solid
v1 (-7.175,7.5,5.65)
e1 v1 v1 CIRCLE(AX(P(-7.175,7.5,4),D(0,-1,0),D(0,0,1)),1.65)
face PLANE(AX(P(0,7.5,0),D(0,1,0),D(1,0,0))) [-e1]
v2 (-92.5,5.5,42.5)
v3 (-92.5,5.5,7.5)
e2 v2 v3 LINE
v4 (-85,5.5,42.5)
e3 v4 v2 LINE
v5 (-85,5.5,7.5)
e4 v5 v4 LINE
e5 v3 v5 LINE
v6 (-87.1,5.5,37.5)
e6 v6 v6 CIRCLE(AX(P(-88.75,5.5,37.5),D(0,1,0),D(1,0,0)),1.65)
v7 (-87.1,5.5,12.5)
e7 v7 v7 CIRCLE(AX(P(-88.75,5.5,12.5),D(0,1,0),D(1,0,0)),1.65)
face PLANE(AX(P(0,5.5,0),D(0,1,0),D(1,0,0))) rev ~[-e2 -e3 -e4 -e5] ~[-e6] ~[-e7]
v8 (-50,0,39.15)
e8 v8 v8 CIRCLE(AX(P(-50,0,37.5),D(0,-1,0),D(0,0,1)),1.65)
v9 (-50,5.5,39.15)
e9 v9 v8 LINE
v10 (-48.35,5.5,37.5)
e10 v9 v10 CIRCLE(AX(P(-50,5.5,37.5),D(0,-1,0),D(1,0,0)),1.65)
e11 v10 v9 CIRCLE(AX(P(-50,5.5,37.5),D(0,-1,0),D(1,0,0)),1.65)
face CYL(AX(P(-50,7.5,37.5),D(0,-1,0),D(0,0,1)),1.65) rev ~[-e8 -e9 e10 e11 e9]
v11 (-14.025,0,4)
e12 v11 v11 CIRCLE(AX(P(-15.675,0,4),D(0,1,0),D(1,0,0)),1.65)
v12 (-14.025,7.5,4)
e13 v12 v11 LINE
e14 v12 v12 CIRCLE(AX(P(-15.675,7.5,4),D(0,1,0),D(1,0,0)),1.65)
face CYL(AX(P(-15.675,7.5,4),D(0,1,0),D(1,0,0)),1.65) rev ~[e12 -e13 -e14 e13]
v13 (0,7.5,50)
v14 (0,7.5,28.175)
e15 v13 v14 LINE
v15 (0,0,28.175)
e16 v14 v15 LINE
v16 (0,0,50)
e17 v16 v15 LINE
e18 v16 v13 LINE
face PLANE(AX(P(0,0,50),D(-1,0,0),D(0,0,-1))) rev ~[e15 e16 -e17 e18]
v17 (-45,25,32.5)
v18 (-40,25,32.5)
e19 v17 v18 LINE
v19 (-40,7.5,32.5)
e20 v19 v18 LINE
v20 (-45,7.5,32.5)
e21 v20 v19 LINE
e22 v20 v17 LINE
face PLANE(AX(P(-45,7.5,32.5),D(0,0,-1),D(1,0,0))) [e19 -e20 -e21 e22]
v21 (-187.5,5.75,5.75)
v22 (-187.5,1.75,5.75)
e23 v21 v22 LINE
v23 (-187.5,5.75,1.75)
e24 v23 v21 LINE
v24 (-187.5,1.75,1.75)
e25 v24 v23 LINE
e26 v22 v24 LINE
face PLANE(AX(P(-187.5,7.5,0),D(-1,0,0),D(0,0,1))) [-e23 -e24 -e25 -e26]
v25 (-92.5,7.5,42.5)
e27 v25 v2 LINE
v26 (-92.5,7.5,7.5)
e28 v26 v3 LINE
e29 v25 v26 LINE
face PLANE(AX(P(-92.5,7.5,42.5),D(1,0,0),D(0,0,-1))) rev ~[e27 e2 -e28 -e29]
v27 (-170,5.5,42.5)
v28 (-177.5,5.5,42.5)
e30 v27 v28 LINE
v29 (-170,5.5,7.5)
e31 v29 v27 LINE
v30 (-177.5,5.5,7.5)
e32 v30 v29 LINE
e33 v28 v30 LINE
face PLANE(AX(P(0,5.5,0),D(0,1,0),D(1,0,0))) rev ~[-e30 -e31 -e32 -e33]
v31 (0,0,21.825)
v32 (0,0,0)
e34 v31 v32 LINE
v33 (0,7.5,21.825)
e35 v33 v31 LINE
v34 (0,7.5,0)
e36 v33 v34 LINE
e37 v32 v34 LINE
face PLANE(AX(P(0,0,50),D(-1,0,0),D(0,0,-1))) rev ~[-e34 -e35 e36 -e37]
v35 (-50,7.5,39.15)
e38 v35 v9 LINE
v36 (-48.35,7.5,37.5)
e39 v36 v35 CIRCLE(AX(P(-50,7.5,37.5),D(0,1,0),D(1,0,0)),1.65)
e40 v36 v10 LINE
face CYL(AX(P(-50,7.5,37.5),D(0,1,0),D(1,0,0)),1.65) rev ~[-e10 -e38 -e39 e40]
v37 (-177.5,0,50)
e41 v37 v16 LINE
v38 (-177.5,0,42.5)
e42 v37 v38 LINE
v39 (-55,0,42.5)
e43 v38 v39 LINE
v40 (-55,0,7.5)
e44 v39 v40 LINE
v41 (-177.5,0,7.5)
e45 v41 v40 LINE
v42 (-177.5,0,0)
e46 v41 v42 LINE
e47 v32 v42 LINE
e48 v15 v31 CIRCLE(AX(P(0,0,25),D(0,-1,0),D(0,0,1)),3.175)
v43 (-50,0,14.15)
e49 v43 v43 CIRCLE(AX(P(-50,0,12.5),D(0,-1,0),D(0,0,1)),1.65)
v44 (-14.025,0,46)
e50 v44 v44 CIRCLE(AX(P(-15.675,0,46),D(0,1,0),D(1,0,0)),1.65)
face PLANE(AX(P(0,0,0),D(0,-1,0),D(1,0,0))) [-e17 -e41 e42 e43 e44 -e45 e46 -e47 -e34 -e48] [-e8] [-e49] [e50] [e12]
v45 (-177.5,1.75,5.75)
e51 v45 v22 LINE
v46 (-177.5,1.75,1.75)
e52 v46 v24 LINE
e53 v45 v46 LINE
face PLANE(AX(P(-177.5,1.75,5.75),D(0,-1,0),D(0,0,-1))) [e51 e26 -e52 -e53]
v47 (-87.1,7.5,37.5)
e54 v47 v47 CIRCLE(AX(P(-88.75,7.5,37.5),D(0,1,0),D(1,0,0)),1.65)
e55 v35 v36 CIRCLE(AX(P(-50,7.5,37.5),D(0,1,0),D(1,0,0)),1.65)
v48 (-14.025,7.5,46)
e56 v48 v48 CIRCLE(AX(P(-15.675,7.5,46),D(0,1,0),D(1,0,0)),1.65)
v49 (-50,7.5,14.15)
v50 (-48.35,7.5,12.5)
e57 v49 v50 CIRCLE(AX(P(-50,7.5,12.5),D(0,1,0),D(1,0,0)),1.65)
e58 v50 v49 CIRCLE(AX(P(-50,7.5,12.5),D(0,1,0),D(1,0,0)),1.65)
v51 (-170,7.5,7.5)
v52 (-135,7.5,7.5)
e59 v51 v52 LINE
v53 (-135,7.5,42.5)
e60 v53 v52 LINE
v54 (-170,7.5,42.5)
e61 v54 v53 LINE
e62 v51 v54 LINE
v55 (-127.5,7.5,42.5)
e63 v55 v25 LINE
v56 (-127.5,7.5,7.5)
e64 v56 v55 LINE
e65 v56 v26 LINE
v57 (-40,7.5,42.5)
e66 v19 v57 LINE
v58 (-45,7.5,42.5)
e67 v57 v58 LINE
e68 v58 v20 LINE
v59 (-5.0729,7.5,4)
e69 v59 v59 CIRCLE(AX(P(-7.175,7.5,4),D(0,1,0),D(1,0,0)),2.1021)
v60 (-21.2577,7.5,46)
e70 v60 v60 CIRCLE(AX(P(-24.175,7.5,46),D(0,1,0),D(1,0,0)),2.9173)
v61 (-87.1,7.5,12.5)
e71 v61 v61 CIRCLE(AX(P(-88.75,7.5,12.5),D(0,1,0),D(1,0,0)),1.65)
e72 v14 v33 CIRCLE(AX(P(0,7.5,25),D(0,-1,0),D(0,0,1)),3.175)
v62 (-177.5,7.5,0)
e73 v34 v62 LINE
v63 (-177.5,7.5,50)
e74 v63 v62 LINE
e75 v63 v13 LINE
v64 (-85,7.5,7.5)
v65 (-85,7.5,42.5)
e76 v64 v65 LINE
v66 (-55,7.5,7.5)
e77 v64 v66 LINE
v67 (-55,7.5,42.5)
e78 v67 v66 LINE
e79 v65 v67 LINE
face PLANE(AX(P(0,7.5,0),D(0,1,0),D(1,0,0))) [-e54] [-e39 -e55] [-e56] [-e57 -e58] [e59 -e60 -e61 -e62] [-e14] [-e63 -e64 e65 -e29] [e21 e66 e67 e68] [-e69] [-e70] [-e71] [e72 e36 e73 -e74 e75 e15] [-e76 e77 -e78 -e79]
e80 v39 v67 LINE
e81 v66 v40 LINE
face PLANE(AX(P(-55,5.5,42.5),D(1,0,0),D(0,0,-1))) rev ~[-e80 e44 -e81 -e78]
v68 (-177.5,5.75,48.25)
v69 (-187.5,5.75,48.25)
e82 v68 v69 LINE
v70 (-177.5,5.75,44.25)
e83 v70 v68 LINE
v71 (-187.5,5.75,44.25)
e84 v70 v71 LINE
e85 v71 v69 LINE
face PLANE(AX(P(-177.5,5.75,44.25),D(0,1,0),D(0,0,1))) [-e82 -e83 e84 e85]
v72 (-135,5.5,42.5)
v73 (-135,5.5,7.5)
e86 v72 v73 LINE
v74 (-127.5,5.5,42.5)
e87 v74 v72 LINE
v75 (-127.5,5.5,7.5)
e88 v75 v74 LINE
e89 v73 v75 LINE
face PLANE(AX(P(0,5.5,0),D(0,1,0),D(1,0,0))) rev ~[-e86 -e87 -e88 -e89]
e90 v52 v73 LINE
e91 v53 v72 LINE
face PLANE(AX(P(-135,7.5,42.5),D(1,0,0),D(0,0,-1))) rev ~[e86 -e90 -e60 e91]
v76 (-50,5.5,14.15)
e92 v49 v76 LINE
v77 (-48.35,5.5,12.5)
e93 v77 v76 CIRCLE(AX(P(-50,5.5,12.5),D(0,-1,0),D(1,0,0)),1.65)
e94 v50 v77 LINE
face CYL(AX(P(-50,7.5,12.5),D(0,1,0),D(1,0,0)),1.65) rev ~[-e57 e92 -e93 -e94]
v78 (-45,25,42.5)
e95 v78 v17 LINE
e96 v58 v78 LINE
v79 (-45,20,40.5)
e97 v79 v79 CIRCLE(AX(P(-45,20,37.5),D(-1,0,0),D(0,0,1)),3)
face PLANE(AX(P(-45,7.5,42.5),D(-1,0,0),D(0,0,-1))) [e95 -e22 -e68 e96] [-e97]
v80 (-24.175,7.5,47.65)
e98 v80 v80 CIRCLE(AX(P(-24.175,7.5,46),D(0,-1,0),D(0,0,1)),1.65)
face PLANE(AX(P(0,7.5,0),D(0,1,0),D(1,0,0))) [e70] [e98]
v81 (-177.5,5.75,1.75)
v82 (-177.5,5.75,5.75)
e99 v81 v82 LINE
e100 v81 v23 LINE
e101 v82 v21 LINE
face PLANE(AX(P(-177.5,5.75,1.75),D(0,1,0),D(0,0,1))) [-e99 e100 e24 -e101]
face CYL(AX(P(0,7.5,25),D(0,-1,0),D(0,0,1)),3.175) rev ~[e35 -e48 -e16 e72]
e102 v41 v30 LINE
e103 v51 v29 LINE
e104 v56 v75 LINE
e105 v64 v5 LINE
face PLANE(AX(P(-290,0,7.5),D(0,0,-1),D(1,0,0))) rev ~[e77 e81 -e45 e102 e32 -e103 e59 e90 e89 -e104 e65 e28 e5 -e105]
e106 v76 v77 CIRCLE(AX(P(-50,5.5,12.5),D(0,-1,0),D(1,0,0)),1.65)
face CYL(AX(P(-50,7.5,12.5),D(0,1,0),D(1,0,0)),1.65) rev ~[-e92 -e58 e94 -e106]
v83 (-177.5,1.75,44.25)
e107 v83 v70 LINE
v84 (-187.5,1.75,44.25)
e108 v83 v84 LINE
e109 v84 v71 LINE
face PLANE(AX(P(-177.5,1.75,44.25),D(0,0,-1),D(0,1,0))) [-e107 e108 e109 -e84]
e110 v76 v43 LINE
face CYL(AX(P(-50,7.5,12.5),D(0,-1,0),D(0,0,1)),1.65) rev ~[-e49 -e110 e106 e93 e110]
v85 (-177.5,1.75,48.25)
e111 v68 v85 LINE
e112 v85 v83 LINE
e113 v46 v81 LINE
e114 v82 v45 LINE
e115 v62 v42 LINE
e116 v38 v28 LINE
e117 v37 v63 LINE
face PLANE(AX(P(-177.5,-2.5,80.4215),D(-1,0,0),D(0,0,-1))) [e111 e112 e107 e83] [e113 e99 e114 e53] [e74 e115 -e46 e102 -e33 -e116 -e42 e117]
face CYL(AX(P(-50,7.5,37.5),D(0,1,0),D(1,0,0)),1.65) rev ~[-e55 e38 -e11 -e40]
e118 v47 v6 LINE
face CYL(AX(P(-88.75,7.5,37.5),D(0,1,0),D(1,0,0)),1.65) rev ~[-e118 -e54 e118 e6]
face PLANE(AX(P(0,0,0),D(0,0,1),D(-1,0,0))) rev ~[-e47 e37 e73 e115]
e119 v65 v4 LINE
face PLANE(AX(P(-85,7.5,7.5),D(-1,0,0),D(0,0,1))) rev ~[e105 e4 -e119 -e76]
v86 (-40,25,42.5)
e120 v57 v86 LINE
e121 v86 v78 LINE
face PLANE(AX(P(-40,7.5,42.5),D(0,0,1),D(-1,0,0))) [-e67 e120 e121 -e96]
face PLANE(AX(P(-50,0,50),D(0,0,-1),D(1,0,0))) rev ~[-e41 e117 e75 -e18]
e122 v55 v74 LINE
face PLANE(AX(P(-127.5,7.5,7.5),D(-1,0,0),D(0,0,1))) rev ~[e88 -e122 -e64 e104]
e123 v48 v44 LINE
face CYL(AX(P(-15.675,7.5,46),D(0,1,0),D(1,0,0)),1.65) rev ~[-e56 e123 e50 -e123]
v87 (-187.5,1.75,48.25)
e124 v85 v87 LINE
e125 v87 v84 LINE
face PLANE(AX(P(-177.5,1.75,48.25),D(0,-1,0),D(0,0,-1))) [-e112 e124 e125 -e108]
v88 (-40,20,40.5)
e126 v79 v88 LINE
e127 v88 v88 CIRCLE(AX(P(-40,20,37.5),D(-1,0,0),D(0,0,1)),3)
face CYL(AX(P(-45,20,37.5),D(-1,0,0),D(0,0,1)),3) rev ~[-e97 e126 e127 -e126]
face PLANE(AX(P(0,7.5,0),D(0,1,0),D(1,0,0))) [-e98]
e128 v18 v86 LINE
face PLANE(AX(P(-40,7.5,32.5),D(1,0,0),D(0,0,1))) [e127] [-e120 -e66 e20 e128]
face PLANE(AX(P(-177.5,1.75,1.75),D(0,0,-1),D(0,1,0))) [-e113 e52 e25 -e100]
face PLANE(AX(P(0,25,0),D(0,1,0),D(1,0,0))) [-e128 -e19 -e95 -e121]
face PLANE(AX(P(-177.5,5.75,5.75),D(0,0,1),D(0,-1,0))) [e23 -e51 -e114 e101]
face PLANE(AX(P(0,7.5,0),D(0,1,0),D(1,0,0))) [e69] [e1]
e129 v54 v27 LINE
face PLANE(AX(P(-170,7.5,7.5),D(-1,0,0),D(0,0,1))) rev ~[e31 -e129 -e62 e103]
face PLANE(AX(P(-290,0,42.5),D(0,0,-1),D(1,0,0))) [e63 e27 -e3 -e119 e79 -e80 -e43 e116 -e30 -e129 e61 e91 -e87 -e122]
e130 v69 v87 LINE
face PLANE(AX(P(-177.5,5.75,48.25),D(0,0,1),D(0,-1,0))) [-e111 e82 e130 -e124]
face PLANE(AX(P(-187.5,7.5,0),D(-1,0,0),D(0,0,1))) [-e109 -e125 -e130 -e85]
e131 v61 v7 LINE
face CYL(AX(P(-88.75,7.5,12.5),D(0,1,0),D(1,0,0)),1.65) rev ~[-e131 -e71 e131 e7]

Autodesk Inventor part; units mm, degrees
ref_plane "YZ Plane" through (0, 0, 0) normal (1, 0, 0) x (0, 1, 0)
ref_plane "XZ Plane" through (0, 0, 0) normal (0, 1, 0) x (-1, 0, 0)
ref_plane "XY Plane" through (0, 0, 0) normal (0, 0, 1) x (1, 0, 0)
sketch "Sketch1" plane through (0, 0, 0) normal (0, 1, 0) x (-1, 0, 0)
  line L0 (0, 0) -> (50, 0)
  line L1 (50, 0) -> (50, 50)
  line L2 (50, 50) -> (0, 50)
  line L3 (0, 50) -> (0, 0)
  line L4 (50, 50) -> (290, 50)
  line L5 (290, 50) -> (290, 42.5)
  line L6 (290, 42.5) -> (50, 42.5)
  line L7 (50, 42.5) -> (50, 50)
  line L8 (50, 0) -> (290, 0)
  line L9 (290, 0) -> (290, 7.5)
  line L10 (290, 7.5) -> (50, 7.5)
  line L11 (50, 7.5) -> (50, 0)
  dimension "d0" = 50
  dimension "d1" = 50
  dimension "d2" = 240
  dimension "d3" = 7.5
  dimension "d4" = 7.5
extrude "Extrusion1" add sketch "Sketch1" along normal blind 7.5
sketch "Sketch2" plane through (0, 7.5, 0) normal (0, 1, 0) x (1, 0, 0)
  line L0 (0, -50) -> (0, 0) projected
  point P0 (0, -25)
hole "Hole1" at (0, 7.5, 25) direction (0, -1, 0) diameter 6.35 end through all
sketch "Sketch3" plane through (0, 7.5, 0) normal (0, 1, 0) x (1, 0, 0)
  line L0 (-3.175, -50) -> (-3.175, 0) construction
  line L1 (-3.175, -50) -> (-28.175, -50) construction
  line L2 (-28.175, -50) -> (-28.175, 0) construction
  line L3 (-28.175, 0) -> (-3.175, 0) construction
  point P0 (0, 0)
  point P1 (-7.175, -4)
  point P2 (-24.175, -46)
  dimension "d14" = 25
hole "Hole2" at (-7.175, 7.5, 4) at (-24.175, 7.5, 46) direction (0, -1, 0) diameter 3.3 end through all
sketch "Sketch4" plane through (0, 7.5, 0) normal (0, 1, 0) x (1, 0, 0)
  arc A0 (0, -21.825) -> (0, -28.175) centre (0, -25) ccw construction
  line L0 (-3.175, -25) -> (-28.175, -25) construction
  line L1 (-3.175, -25) -> (21.825, -25) construction
  line L2 (-290, -50) -> (0, -50) construction
  line L3 (-28.175, -50) -> (-28.175, 0) construction
  line L4 (-50, -7.5) -> (-50, -42.5) construction
  line L5 (-50, -42.5) -> (-45, -42.5) construction
  line L6 (-45, -42.5) -> (-45, -32.5) construction
  line L7 (-45, -32.5) -> (-50, -32.5) construction
  line L8 (-50, -32.5) -> (-50, -42.5) construction
  line L9 (-45, -32.5) -> (-40, -32.5)
  line L10 (-40, -32.5) -> (-40, -42.5)
  line L11 (-40, -42.5) -> (-45, -42.5)
  line L12 (-45, -42.5) -> (-45, -32.5)
  point P0 (0, 0)
  dimension "d22" = 25
  dimension "d23" = 180
  dimension "d24" = 5
  dimension "d25" = 10
  dimension "d26" = 5
extrude "Extrusion2" add sketch "Sketch4" along normal blind 17.5
sketch "Sketch5" plane through (0, 7.5, 0) normal (0, 1, 0) x (1, 0, 0)
  line L0 (-85, -7.5) -> (-85, -42.5)
  line L1 (-127.5, -7.5) -> (-127.5, -42.5)
  line L2 (-92.5, -42.5) -> (-92.5, -7.5)
  line L3 (-135, -7.5) -> (-170, -7.5) construction
  line L4 (-170, -7.5) -> (-170, -42.5) construction
  line L5 (-170, -42.5) -> (-135, -42.5) construction
  line L6 (-135, -42.5) -> (-135, -7.5) construction
  line L7 (-177.5, -7.5) -> (-212.5, -7.5) construction
  line L8 (-212.5, -7.5) -> (-212.5, -42.5) construction
  line L9 (-212.5, -42.5) -> (-177.5, -42.5) construction
  line L10 (-177.5, -42.5) -> (-177.5, -7.5) construction
  line L11 (-220, -7.5) -> (-255, -7.5) construction
  line L12 (-255, -7.5) -> (-255, -42.5) construction
  line L13 (-255, -42.5) -> (-220, -42.5) construction
  line L14 (-220, -42.5) -> (-220, -7.5) construction
  line L15 (-85, -7.5) -> (-92.5, -7.5) construction
  line L16 (-92.5, -7.5) -> (-92.5, -42.5) construction
  line L17 (-92.5, -42.5) -> (-85, -42.5) construction
  line L18 (-85, -42.5) -> (-85, -7.5) construction
  line L19 (-127.5, -7.5) -> (-135, -7.5) construction
  line L20 (-135, -7.5) -> (-135, -42.5) construction
  line L21 (-135, -42.5) -> (-127.5, -42.5) construction
  line L22 (-127.5, -42.5) -> (-127.5, -7.5) construction
  line L23 (-170, -7.5) -> (-177.5, -7.5) construction
  line L24 (-177.5, -7.5) -> (-177.5, -42.5) construction
  line L25 (-177.5, -42.5) -> (-170, -42.5) construction
  line L26 (-170, -42.5) -> (-170, -7.5) construction
  line L27 (-212.5, -7.5) -> (-220, -7.5) construction
  line L28 (-220, -7.5) -> (-220, -42.5) construction
  line L29 (-220, -42.5) -> (-212.5, -42.5) construction
  line L30 (-212.5, -42.5) -> (-212.5, -7.5) construction
  line L31 (-220, -7.5) -> (-212.5, -7.5)
  line L32 (-212.5, -7.5) -> (-212.5, -42.5)
  line L33 (-212.5, -42.5) -> (-220, -42.5)
  line L34 (-220, -42.5) -> (-220, -7.5)
  line L35 (-177.5, -7.5) -> (-170, -7.5)
  line L36 (-170, -7.5) -> (-170, -42.5)
  line L37 (-170, -42.5) -> (-177.5, -42.5)
  line L38 (-177.5, -42.5) -> (-177.5, -7.5)
  line L39 (-135, -7.5) -> (-127.5, -7.5)
  line L40 (-127.5, -7.5) -> (-127.5, -42.5)
  line L41 (-127.5, -42.5) -> (-135, -42.5)
  line L42 (-135, -42.5) -> (-135, -7.5)
  line L43 (-92.5, -7.5) -> (-85, -7.5)
  line L44 (-85, -7.5) -> (-85, -42.5)
  line L45 (-85, -42.5) -> (-92.5, -42.5)
  line L46 (-92.5, -42.5) -> (-92.5, -7.5)
  point P0 (0, 0)
  point P1 (-50, -7.5)
  dimension "d30" = 35
  dimension "d31" = 35
  dimension "d32" = 35
  dimension "d33" = 35
  dimension "d34" = 35
  dimension "d35" = 35
extrude "Extrusion3" add sketch "Sketch5" against normal blind 2
sketch "Sketch6" plane through (0, 7.5, 0) normal (0, 1, 0) x (1, 0, 0)
  line L0 (-290, 0) -> (-290, -7.5) projected
  line L1 (-290, -50) -> (0, -50) projected
  line L2 (-290, 0) -> (-280, 0)
  line L3 (-280, 0) -> (-280, -50)
  line L4 (-280, -50) -> (-290, -50)
  line L5 (-290, -50) -> (-290, 0)
  point P0 (0, 0)
  dimension "d38" = 10
extrude "Extrusion4" cut sketch "Sketch6" against normal blind 7.5
sketch "Sketch7" plane through (-280, 7.5, 0) normal (-1, 0, 0) x (0, 0, 1)
  point P0 (0, -7.5)
sketch "Sketch8" plane through (-280, 7.5, 0) normal (-1, 0, 0) x (0, 0, 1)
  line L0 (-25, 0) -> (75, 0)
  line L1 (75, 0) -> (75, -7.5)
  line L2 (75, -7.5) -> (-25, -7.5)
  line L3 (-25, -7.5) -> (-25, 0)
  line L4 (-25, 0) -> (75, 0)
  line L5 (75, 0) -> (75, -10)
  line L6 (75, -10) -> (-25, -10)
  line L7 (-25, -10) -> (-25, 0)
  point P0 (0, -7.5)
  dimension "d41" = 100
  dimension "d42" = 10
extrude "Extrusion5" add sketch "Sketch8" along normal blind 7.5
sketch "Sketch9" plane through (-287.5, 7.5, 0) normal (-1, 0, 0) x (0, 0, 1)
  line L0 (75, 0) -> (-25, 0) projected
  line L1 (-25, -10) -> (75, -10) projected
  line L2 (-25, 0) -> (-17.5, 0)
  line L3 (-17.5, 0) -> (-17.5, -10)
  line L4 (-17.5, -10) -> (-25, -10)
  line L5 (-25, -10) -> (-25, 0)
  line L6 (75, 0) -> (67.5, 0)
  line L7 (67.5, 0) -> (67.5, -10)
  line L8 (67.5, -10) -> (75, -10)
  line L9 (75, -10) -> (75, 0)
  point P0 (0, -7.5)
  dimension "d45" = 7.5
  dimension "d46" = 7.5
extrude "Extrusion6" add sketch "Sketch9" along normal blind 25 contours L9 L1 L7 L0 | L3 L1 L5 L0
sketch "Sketch10" plane through (-287.5, -2.5, -17.5) normal (0, 0, 1) x (1, 0, 0)
  line L0 (0, 0) -> (-25, 0) construction
  line L1 (0, 0) -> (-3, 0) construction
  line L2 (-3, 0) -> (-6.2, 0)
  line L3 (-6.2, 0) -> (-6.2, 2.1)
  line L4 (-6.2, 2.1) -> (-3, 2.1)
  line L5 (-3, 2.1) -> (-3, 0)
  line L6 (-6.2, 2.1) -> (-11.7, 2.1) construction
  line L7 (-11.7, 2.1) -> (-11.7, 5.4) construction
  point P0 (287.5, 2.5)
  dimension "d49" = 3
  dimension "d50" = 3.2
  dimension "d51" = 2.1
  dimension "d52" = 5.5
  dimension "d53" = 3.3
extrude "Extrusion7" add sketch "Sketch10" along normal blind 92.5
sketch "Sketch11" plane through (-287.5, -2.5, -17.5) normal (0, 0, 1) x (1, 0, 0)
  line L0 (-6.2, 2.1) -> (-3, 2.1) construction
  line L1 (-6.2, 2.1) -> (-11.7, 2.1) construction
  line L2 (-11.7, 2.1) -> (-11.7, 5.4) construction
  circle A0 centre (-11.7, 5.4) radius 2.125
  point P0 (287.5, 2.5)
  dimension "d56" = 5.5
  dimension "d57" = 3.3
  dimension "d58" = 4.25
extrude "Extrusion8" cut sketch "Sketch11" along normal mid plane 241
sketch "Sketch12" plane through (-287.5, -2.5, -17.5) normal (0, 0, 1) x (1, 0, 0)
  circle A0 centre (-11.7, 5.4) radius 2.125 construction
  line L0 (-11.7, 5.4) -> (-11.7, 0.96) construction
  line L1 (-11.7, 0.96) -> (-16.7, 0.96) construction
  line L2 (-6.2, 0) -> (-25, 0) projected
  line L3 (-16.7, 0.96) -> (-19.2, 0.96)
  line L4 (-19.2, 0.96) -> (-19.2, 0)
  line L5 (-19.2, 0) -> (-16.7, 0)
  line L6 (-16.7, 0) -> (-16.7, 0.96)
  point P0 (287.5, 2.5)
  dimension "d61" = 4.44
  dimension "d62" = 5
  dimension "d63" = 2.5
extrude "Extrusion9" add sketch "Sketch12" along normal blind 91.25
sketch "Sketch13" plane through (-293.7, -0.4, -17.5) normal (0, 1, 0) x (1, 0, 0)
  line L0 (3.2, 0) -> (3.2, -85) construction
  line L1 (3.2, 0) -> (3.2, -30) construction
  line L2 (0, 0) -> (0, -85) construction
  line L3 (3.2, -30) -> (0, -30) construction
  line L4 (0, -30) -> (0, -36.35) construction
  line L5 (0, -36.35) -> (3.2, -36.35) construction
  line L6 (3.2, -36.35) -> (3.2, -30) construction
  line L7 (0, -30) -> (3.2, -30)
  line L8 (3.2, -30) -> (3.2, -36.35)
  line L9 (3.2, -36.35) -> (0, -36.35)
  line L10 (0, -36.35) -> (0, -30)
  point P0 (293.7, -17.5)
  dimension "d66" = 30
  dimension "d67" = 6.35
extrude "Extrusion10" add sketch "Sketch13" along normal blind 3.8
sketch "Sketch14" plane through (0, 7.5, 0) normal (0, 1, 0) x (1, 0, 0)
  line L0 (-287.5, 17.5) -> (-287.5, -67.5) projected
  line L1 (-287.5, 17.5) -> (-285, 17.5)
  line L2 (-285, 17.5) -> (-285, -67.5)
  line L3 (-285, -67.5) -> (-287.5, -67.5)
  line L4 (-287.5, -67.5) -> (-287.5, 17.5)
  point P0 (0, 0)
  dimension "d70" = 2.5
extrude "Extrusion11" cut sketch "Sketch14" against normal blind 14.55
sketch "Sketch15" plane through (0, 7.5, 0) normal (0, 1, 0) x (1, 0, 0)
  line L0 (-312.5, 17.5) -> (-312.5, 25) projected
  line L1 (-280, -75) -> (-312.5, -75) projected
  line L2 (-312.5, 25) -> (-306.6488, 25)
  line L3 (-306.6488, 25) -> (-306.6488, -75)
  line L4 (-306.6488, -75) -> (-312.5, -75)
  line L5 (-312.5, -75) -> (-312.5, 25)
  point P0 (0, 0)
extrude "Extrusion12" cut sketch "Sketch15" against normal blind 14.55
fillet "Fillet1" radius 0.1 1 edges at (-301.325, 2.9, -17.5)
fillet "Fillet2" radius 0.1 1 edges at (-301.325, 2.9, 67.5)
fillet "Fillet3" radius 3.25 1 edges at (-280, 2.5, 75)
fillet "Fillet4" radius 3.25 1 edges at (-285, 2.5, 67.5)
fillet "Fillet5" radius 3.25 1 edges at (-280, 2.5, -25)
fillet "Fillet6" radius 3.25 1 edges at (-285, 2.5, -17.5)
sketch "Sketch16" plane through (0, 7.5, 0) normal (0, 1, 0) x (1, 0, 0)
  line L0 (-220, -42.5) -> (-220, -7.5) construction
  line L1 (-220, -42.5) -> (-280, -42.5) construction
  line L2 (-220, -7.5) -> (-255, -7.5) construction
  line L3 (-255, -7.5) -> (-255, -42.5) construction
  line L4 (-255, -42.5) -> (-220, -42.5) construction
  line L5 (-220, -42.5) -> (-220, -7.5) construction
  line L6 (-280, -7.5) -> (-280, 0) projected
  line L7 (-280, -7.5) -> (-270, -7.5)
  line L8 (-270, -7.5) -> (-270, -42.5)
  line L9 (-270, -42.5) -> (-280, -42.5)
  line L10 (-280, -42.5) -> (-280, -7.5)
  point P0 (0, 0)
  dimension "d81" = 35
  dimension "d82" = 10
extrude "Extrusion13" add sketch "Sketch16" against normal blind 2
sketch "Sketch17" plane through (0, 7.5, 0) normal (0, 1, 0) x (1, 0, 0)
  point P0 (0, 0)
sketch "Sketch18" plane through (0, 7.5, 0) normal (0, 1, 0) x (1, 0, 0)
  line L0 (-270, -7.5) -> (-270, -42.5) construction
  line L1 (-285, -64.25) -> (-285, 14.25) construction
  line L2 (-280, -7.5) -> (-280, 0) construction
  line L3 (-270, -7.5) -> (-280, -7.5) construction
  line L4 (-275, -7.5) -> (-275, -42.5) construction
  line L5 (-50, -42.5) -> (-280, -42.5) construction
  circle A0 centre (-275, -12.5) radius 1.8 construction
  circle A1 centre (-275, -37.5) radius 1.8 construction
  circle A2 centre (-275, -12.5) radius 1.8
  circle A3 centre (-275, -37.5) radius 1.8
  point P0 (0, 0)
  dimension "d85" = 3.6
  dimension "d86" = 3.6
hole "Hole3" at (-275, 7.5, 12.5) at (-275, 7.5, 37.5) direction (0, -1, 0) diameter 3.3 depth 15 tip angle 118
sketch "Sketch19" plane through (0, 7.5, 0) normal (0, 1, 0) x (1, 0, 0)
  circle A0 centre (-275, -12.5) radius 1.65 construction
  line L0 (-275, -12.5) -> (-212.5, -12.5) construction
  line L1 (-212.5, -7.5) -> (-212.5, -42.5) construction
  circle A1 centre (-275, -37.5) radius 1.65 construction
  line L2 (-275, -37.5) -> (-212.5, -37.5) construction
  line L3 (-220, -42.5) -> (-220, -7.5) construction
  line L4 (-220, -12.5) -> (-212.5, -12.5) construction
  line L5 (-216.25, -12.5) -> (-216.25, -37.5) construction
  point P0 (0, 0)
hole "Hole4" at (-216.25, 7.5, 12.5) at (-216.25, 7.5, 37.5) direction (0, -1, 0) diameter 3.3 depth 15 tip angle 118
sketch "Sketch20" plane through (-45, 7.5, 32.5) normal (-1, 0, 0) x (0, 0, 1)
  line L0 (10, 17.5) -> (0, 17.5) construction
  line L1 (5, 17.5) -> (5, -0.1335) construction
  line L2 (10, 0) -> (10, 17.5) construction
  line L3 (10, 12.5) -> (5, 12.5) construction
  circle A0 centre (5, 12.5) radius 3
  point P0 (-32.5, -7.5)
  dimension "d101" = 6
extrude "Extrusion14" cut sketch "Sketch20" against normal blind 20
sketch "Sketch21" plane through (0, 7.5, 0) normal (0, 1, 0) x (1, 0, 0)
  line L0 (-306.6488, 17.5) -> (-306.6488, -67.5) projected
  line L1 (-306.6488, 17.5) -> (-288.25, 17.5) projected
  line L2 (-306.6488, -67.5) -> (-288.25, -67.5)
  line L3 (-288.25, -67.5) -> (-288.25, 17.5)
  line L4 (-288.25, 17.5) -> (-306.6488, 17.5)
  line L5 (-306.6488, 17.5) -> (-306.6488, -67.5)
  point P0 (0, 0)
extrude "Extrusion15" cut sketch "Sketch21" against normal blind 10
sketch "Sketch22" plane through (0, 7.5, 0) normal (0, 1, 0) x (1, 0, 0)
  line L0 (-280, -50) -> (0, -50) projected
  line L1 (0, 0) -> (-280, 0) projected
  line L2 (-280, -50) -> (-270.5687, -50)
  line L3 (-270.5687, -50) -> (-270.5687, 0)
  line L4 (-270.5687, 0) -> (-280, 0)
  line L5 (-280, 0) -> (-280, -50)
  line L6 (-50, -42.5) -> (-280, -42.5) projected
  line L7 (-219.3019, -42.5) -> (-213.3073, -42.5)
  line L8 (-213.3073, -42.5) -> (-213.3073, -8.284)
  line L9 (-213.3073, -8.284) -> (-219.3019, -8.284)
  line L10 (-219.3019, -8.284) -> (-219.3019, -42.5)
extrude "Extrusion16" add sketch "Sketch22" against normal blind 2
sketch "Sketch23" plane through (-306.6488, -2.5, -25) normal (0, 0, -1) x (-1, 0, 0)
  circle A0 centre (-7.4488, 5.4) radius 2.125 projected
  circle A1 centre (-7.4488, 5.4) radius 2
  circle A2 centre (-7.4488, 5.4) radius 2.4429
  point P0 (-306.6488, 2.5)
  dimension "d108" = 4
extrude "Extrusion17" add sketch "Sketch23" against normal blind 100 contours A0 | A2
sketch "Sketch24" plane through (0, 7.5, 0) normal (0, 1, 0) x (1, 0, 0)
  line L0 (-288.25, -67.5) -> (-306.6488, -67.5) projected
  arc A0 (-285, 14.25) -> (-288.25, 17.5) centre (-288.25, 14.25) ccw projected
  line L1 (-306.6488, -67.5) -> (-288.25, -67.5)
  line L2 (-288.25, -67.5) -> (-288.25, 17.5)
  line L3 (-288.25, 17.5) -> (-306.6488, 17.5)
  line L4 (-306.6488, 17.5) -> (-306.6488, -67.5)
  point P0 (0, 0)
extrude "Extrusion18" cut sketch "Sketch24" against normal blind 100
sketch "Sketch25" plane through (0, 7.5, 0) normal (0, 1, 0) x (1, 0, 0)
  line L0 (-50, -42.5) -> (-280, -42.5) projected
  line L1 (-280, -7.5) -> (-50, -7.5) projected
  line L2 (-50, -42.5) -> (-55, -42.5)
  line L3 (-55, -42.5) -> (-55, -7.5)
  line L4 (-55, -7.5) -> (-50, -7.5)
  line L5 (-50, -7.5) -> (-50, -42.5)
  point P0 (0, 0)
  dimension "d113" = 5
extrude "Extrusion19" add sketch "Sketch25" against normal blind 2
sketch "Sketch26" plane through (0, 7.5, 0) normal (0, 1, 0) x (1, 0, 0)
  line L0 (-55, -42.5) -> (-85, -42.5) construction
  line L1 (-55, -42.5) -> (-50, -42.5) construction
  line L2 (-55, -42.5) -> (-50, -42.5) construction
  line L3 (-50, -42.5) -> (-50, -7.5) construction
  line L4 (-50, -42.5) -> (-50, -7.5) construction
  circle A0 centre (-50, -37.5) radius 1.65 construction
  circle A1 centre (-50, -12.5) radius 1.65 construction
  circle A2 centre (-50, -37.5) radius 1.65
  circle A3 centre (-50, -12.5) radius 1.65
  line L5 (-50, -37.5) -> (-92.5, -37.5) construction
  line L6 (-92.5, -42.5) -> (-92.5, -7.5) construction
  line L7 (-50, -12.5) -> (-92.5, -12.5) construction
  line L8 (-92.5, -37.5) -> (-85, -37.5) construction
  line L9 (-85, -7.5) -> (-85, -42.5) construction
  line L10 (-88.75, -37.5) -> (-88.75, -12.5) construction
  circle A4 centre (-88.75, -37.5) radius 1.65
  circle A5 centre (-88.75, -12.5) radius 1.65
  point P0 (0, 0)
  dimension "d116" = 3.3
  dimension "d117" = 3.3
  dimension "d118" = 3.3
  dimension "d119" = 3.3
extrude "Extrusion20" cut sketch "Sketch26" against normal blind 2
sketch "Sketch27" plane through (0, 5.5, 0) normal (0, -1, 0) x (1, 0, 0)
  line L0 (-50, 7.5) -> (-55, 7.5) projected
  line L1 (-55, 7.5) -> (-46.6169, 7.5)
  line L2 (-46.6169, 7.5) -> (-46.6169, 42.5)
  line L3 (-46.6169, 42.5) -> (-55, 42.5)
  line L4 (-55, 42.5) -> (-55, 7.5)
  point P0 (0, 0)
extrude "Extrusion21" add sketch "Sketch27" along normal blind 5.5
sketch "Sketch28" plane through (0, 7.5, 0) normal (0, 1, 0) x (1, 0, 0)
  circle A0 centre (-50, -12.5) radius 1.65 projected
  circle A1 centre (-50, -37.5) radius 1.65 projected
  point P0 (0, 0)
hole "Hole5" at (-50, 7.5, 12.5) at (-50, 7.5, 37.5) direction (0, -1, 0) diameter 3.3 depth 8 tip angle 118
sketch "Sketch29" plane through (0, 7.5, 0) normal (0, 1, 0) x (1, 0, 0)
  circle A0 centre (-7.175, -4) radius 1.65 construction
  circle A1 centre (-24.175, -46) radius 1.65 construction
  line L0 (-7.175, -4) -> (-24.175, -46) construction
  line L1 (-7.175, -4) -> (-7.175, -46) construction
  line L2 (-7.175, -46) -> (-24.175, -46) construction
  line L3 (-7.175, -25) -> (-25.825, -25) construction
  line L4 (-25.825, -25) -> (-25.825, -46) construction
  line L5 (-16.5, -25) -> (-25.825, -25) construction
  line L6 (-24.175, -46) -> (-24.175, -25) construction
  line L7 (-15.675, -46) -> (-15.675, -4) construction
  line L8 (-40, -32.5) -> (-40, -42.5) construction
  line L9 (-40, -42.5) -> (-24.175, -42.5) construction
  line L10 (-24.175, -42.5) -> (-24.175, -46) construction
  line L11 (-15.675, -25) -> (-15.675, -46) construction
  line L12 (-15.675, -46) -> (-15.675, -4) construction
  circle A2 centre (-15.675, -46) radius 1.65 construction
  circle A3 centre (-15.675, -46) radius 1.65
  circle A4 centre (-15.675, -4) radius 1.65
  point P0 (0, 0)
  dimension "d131" = 42
  dimension "d132" = 17
  dimension "d133" = 21
  dimension "d135" = 8.5
  dimension "d136" = 15.825
  dimension "d137" = 3.5
  dimension "d138" = 21
  dimension "d139" = 3.3
  dimension "d140" = 3.3
  dimension "d141" = 3.3
extrude "Extrusion22" cut sketch "Sketch29" against normal blind 10
sketch "Sketch30" plane through (0, 7.5, 0) normal (0, 1, 0) x (1, 0, 0)
  circle A0 centre (-7.175, -4) radius 1.65 projected
  circle A1 centre (-7.175, -4) radius 2.1021
  circle A2 centre (-24.175, -46) radius 1.65 projected
  circle A3 centre (-24.175, -46) radius 2.9173
  point P0 (0, 0)
extrude "Extrusion23" add sketch "Sketch30" against normal blind 7.5 contours A0 | A1 | A2 | A3
sketch "Sketch31" plane through (0, 7.5, 0) normal (0, 1, 0) x (1, 0, 0)
  point P0 (0, 0)
sketch "Sketch32" plane through (0, 0, 0) normal (0, -1, 0) x (1, 0, 0)
  point P0 (0, 0)
sketch "Sketch33" plane through (-306.6488, -2.5, -25) normal (0, -1, 0) x (1, 0, 0)
  line L0 (-6.8932, 105.4215) -> (129.1488, 105.4215)
  line L1 (129.1488, 105.4215) -> (129.1488, -38.7264)
  line L2 (129.1488, -38.7264) -> (-6.8932, -38.7264)
  line L3 (-6.8932, -38.7264) -> (-6.8932, 105.4215)
  point P0 (306.6488, 25)
extrude "Extrusion24" cut sketch "Sketch33" against normal blind 100
sketch "Sketch34" plane through (-177.5, 7.5, 0) normal (-1, 0, 0) x (0, 0, 1)
  line L0 (21.825, -7.5) -> (0, -7.5) construction
  line L1 (7.5, -7.5) -> (7.5, 0) construction
  line L2 (0, -7.5) -> (7.5, 0) construction
  line L3 (7.5, 0) -> (0, 0) construction
  line L4 (0, 0) -> (7.5, -7.5) construction
  line L5 (5.75, -5.75) -> (1.75, -5.75)
  line L6 (1.75, -5.75) -> (1.75, -1.75)
  line L7 (1.75, -1.75) -> (5.75, -1.75)
  line L8 (5.75, -1.75) -> (5.75, -5.75)
  line L9 (5.75, -5.75) -> (1.75, -1.75) construction
  line L10 (1.75, -5.75) -> (5.75, -1.75) construction
  line L11 (42.5, 0) -> (42.5, -7.5) construction
  line L12 (42.5, -3.75) -> (50, -3.75) construction
  line L13 (50, -7.5) -> (50, 0) construction
  line L14 (48.25, -5.75) -> (44.25, -5.75)
  line L15 (44.25, -5.75) -> (44.25, -1.75)
  line L16 (44.25, -1.75) -> (48.25, -1.75)
  line L17 (48.25, -1.75) -> (48.25, -5.75)
  line L18 (48.25, -5.75) -> (44.25, -1.75) construction
  line L19 (44.25, -5.75) -> (48.25, -1.75) construction
  point P0 (3.75, -3.75)
  point P1 (46.25, -3.75)
  dimension "d148" = 4
  dimension "d149" = 4
  dimension "d150" = 4
  dimension "d151" = 4
extrude "Extrusion25" add sketch "Sketch34" along normal blind 10
properties part number "mtv_frame(BrakeInFront)1-13 - FRONT"
